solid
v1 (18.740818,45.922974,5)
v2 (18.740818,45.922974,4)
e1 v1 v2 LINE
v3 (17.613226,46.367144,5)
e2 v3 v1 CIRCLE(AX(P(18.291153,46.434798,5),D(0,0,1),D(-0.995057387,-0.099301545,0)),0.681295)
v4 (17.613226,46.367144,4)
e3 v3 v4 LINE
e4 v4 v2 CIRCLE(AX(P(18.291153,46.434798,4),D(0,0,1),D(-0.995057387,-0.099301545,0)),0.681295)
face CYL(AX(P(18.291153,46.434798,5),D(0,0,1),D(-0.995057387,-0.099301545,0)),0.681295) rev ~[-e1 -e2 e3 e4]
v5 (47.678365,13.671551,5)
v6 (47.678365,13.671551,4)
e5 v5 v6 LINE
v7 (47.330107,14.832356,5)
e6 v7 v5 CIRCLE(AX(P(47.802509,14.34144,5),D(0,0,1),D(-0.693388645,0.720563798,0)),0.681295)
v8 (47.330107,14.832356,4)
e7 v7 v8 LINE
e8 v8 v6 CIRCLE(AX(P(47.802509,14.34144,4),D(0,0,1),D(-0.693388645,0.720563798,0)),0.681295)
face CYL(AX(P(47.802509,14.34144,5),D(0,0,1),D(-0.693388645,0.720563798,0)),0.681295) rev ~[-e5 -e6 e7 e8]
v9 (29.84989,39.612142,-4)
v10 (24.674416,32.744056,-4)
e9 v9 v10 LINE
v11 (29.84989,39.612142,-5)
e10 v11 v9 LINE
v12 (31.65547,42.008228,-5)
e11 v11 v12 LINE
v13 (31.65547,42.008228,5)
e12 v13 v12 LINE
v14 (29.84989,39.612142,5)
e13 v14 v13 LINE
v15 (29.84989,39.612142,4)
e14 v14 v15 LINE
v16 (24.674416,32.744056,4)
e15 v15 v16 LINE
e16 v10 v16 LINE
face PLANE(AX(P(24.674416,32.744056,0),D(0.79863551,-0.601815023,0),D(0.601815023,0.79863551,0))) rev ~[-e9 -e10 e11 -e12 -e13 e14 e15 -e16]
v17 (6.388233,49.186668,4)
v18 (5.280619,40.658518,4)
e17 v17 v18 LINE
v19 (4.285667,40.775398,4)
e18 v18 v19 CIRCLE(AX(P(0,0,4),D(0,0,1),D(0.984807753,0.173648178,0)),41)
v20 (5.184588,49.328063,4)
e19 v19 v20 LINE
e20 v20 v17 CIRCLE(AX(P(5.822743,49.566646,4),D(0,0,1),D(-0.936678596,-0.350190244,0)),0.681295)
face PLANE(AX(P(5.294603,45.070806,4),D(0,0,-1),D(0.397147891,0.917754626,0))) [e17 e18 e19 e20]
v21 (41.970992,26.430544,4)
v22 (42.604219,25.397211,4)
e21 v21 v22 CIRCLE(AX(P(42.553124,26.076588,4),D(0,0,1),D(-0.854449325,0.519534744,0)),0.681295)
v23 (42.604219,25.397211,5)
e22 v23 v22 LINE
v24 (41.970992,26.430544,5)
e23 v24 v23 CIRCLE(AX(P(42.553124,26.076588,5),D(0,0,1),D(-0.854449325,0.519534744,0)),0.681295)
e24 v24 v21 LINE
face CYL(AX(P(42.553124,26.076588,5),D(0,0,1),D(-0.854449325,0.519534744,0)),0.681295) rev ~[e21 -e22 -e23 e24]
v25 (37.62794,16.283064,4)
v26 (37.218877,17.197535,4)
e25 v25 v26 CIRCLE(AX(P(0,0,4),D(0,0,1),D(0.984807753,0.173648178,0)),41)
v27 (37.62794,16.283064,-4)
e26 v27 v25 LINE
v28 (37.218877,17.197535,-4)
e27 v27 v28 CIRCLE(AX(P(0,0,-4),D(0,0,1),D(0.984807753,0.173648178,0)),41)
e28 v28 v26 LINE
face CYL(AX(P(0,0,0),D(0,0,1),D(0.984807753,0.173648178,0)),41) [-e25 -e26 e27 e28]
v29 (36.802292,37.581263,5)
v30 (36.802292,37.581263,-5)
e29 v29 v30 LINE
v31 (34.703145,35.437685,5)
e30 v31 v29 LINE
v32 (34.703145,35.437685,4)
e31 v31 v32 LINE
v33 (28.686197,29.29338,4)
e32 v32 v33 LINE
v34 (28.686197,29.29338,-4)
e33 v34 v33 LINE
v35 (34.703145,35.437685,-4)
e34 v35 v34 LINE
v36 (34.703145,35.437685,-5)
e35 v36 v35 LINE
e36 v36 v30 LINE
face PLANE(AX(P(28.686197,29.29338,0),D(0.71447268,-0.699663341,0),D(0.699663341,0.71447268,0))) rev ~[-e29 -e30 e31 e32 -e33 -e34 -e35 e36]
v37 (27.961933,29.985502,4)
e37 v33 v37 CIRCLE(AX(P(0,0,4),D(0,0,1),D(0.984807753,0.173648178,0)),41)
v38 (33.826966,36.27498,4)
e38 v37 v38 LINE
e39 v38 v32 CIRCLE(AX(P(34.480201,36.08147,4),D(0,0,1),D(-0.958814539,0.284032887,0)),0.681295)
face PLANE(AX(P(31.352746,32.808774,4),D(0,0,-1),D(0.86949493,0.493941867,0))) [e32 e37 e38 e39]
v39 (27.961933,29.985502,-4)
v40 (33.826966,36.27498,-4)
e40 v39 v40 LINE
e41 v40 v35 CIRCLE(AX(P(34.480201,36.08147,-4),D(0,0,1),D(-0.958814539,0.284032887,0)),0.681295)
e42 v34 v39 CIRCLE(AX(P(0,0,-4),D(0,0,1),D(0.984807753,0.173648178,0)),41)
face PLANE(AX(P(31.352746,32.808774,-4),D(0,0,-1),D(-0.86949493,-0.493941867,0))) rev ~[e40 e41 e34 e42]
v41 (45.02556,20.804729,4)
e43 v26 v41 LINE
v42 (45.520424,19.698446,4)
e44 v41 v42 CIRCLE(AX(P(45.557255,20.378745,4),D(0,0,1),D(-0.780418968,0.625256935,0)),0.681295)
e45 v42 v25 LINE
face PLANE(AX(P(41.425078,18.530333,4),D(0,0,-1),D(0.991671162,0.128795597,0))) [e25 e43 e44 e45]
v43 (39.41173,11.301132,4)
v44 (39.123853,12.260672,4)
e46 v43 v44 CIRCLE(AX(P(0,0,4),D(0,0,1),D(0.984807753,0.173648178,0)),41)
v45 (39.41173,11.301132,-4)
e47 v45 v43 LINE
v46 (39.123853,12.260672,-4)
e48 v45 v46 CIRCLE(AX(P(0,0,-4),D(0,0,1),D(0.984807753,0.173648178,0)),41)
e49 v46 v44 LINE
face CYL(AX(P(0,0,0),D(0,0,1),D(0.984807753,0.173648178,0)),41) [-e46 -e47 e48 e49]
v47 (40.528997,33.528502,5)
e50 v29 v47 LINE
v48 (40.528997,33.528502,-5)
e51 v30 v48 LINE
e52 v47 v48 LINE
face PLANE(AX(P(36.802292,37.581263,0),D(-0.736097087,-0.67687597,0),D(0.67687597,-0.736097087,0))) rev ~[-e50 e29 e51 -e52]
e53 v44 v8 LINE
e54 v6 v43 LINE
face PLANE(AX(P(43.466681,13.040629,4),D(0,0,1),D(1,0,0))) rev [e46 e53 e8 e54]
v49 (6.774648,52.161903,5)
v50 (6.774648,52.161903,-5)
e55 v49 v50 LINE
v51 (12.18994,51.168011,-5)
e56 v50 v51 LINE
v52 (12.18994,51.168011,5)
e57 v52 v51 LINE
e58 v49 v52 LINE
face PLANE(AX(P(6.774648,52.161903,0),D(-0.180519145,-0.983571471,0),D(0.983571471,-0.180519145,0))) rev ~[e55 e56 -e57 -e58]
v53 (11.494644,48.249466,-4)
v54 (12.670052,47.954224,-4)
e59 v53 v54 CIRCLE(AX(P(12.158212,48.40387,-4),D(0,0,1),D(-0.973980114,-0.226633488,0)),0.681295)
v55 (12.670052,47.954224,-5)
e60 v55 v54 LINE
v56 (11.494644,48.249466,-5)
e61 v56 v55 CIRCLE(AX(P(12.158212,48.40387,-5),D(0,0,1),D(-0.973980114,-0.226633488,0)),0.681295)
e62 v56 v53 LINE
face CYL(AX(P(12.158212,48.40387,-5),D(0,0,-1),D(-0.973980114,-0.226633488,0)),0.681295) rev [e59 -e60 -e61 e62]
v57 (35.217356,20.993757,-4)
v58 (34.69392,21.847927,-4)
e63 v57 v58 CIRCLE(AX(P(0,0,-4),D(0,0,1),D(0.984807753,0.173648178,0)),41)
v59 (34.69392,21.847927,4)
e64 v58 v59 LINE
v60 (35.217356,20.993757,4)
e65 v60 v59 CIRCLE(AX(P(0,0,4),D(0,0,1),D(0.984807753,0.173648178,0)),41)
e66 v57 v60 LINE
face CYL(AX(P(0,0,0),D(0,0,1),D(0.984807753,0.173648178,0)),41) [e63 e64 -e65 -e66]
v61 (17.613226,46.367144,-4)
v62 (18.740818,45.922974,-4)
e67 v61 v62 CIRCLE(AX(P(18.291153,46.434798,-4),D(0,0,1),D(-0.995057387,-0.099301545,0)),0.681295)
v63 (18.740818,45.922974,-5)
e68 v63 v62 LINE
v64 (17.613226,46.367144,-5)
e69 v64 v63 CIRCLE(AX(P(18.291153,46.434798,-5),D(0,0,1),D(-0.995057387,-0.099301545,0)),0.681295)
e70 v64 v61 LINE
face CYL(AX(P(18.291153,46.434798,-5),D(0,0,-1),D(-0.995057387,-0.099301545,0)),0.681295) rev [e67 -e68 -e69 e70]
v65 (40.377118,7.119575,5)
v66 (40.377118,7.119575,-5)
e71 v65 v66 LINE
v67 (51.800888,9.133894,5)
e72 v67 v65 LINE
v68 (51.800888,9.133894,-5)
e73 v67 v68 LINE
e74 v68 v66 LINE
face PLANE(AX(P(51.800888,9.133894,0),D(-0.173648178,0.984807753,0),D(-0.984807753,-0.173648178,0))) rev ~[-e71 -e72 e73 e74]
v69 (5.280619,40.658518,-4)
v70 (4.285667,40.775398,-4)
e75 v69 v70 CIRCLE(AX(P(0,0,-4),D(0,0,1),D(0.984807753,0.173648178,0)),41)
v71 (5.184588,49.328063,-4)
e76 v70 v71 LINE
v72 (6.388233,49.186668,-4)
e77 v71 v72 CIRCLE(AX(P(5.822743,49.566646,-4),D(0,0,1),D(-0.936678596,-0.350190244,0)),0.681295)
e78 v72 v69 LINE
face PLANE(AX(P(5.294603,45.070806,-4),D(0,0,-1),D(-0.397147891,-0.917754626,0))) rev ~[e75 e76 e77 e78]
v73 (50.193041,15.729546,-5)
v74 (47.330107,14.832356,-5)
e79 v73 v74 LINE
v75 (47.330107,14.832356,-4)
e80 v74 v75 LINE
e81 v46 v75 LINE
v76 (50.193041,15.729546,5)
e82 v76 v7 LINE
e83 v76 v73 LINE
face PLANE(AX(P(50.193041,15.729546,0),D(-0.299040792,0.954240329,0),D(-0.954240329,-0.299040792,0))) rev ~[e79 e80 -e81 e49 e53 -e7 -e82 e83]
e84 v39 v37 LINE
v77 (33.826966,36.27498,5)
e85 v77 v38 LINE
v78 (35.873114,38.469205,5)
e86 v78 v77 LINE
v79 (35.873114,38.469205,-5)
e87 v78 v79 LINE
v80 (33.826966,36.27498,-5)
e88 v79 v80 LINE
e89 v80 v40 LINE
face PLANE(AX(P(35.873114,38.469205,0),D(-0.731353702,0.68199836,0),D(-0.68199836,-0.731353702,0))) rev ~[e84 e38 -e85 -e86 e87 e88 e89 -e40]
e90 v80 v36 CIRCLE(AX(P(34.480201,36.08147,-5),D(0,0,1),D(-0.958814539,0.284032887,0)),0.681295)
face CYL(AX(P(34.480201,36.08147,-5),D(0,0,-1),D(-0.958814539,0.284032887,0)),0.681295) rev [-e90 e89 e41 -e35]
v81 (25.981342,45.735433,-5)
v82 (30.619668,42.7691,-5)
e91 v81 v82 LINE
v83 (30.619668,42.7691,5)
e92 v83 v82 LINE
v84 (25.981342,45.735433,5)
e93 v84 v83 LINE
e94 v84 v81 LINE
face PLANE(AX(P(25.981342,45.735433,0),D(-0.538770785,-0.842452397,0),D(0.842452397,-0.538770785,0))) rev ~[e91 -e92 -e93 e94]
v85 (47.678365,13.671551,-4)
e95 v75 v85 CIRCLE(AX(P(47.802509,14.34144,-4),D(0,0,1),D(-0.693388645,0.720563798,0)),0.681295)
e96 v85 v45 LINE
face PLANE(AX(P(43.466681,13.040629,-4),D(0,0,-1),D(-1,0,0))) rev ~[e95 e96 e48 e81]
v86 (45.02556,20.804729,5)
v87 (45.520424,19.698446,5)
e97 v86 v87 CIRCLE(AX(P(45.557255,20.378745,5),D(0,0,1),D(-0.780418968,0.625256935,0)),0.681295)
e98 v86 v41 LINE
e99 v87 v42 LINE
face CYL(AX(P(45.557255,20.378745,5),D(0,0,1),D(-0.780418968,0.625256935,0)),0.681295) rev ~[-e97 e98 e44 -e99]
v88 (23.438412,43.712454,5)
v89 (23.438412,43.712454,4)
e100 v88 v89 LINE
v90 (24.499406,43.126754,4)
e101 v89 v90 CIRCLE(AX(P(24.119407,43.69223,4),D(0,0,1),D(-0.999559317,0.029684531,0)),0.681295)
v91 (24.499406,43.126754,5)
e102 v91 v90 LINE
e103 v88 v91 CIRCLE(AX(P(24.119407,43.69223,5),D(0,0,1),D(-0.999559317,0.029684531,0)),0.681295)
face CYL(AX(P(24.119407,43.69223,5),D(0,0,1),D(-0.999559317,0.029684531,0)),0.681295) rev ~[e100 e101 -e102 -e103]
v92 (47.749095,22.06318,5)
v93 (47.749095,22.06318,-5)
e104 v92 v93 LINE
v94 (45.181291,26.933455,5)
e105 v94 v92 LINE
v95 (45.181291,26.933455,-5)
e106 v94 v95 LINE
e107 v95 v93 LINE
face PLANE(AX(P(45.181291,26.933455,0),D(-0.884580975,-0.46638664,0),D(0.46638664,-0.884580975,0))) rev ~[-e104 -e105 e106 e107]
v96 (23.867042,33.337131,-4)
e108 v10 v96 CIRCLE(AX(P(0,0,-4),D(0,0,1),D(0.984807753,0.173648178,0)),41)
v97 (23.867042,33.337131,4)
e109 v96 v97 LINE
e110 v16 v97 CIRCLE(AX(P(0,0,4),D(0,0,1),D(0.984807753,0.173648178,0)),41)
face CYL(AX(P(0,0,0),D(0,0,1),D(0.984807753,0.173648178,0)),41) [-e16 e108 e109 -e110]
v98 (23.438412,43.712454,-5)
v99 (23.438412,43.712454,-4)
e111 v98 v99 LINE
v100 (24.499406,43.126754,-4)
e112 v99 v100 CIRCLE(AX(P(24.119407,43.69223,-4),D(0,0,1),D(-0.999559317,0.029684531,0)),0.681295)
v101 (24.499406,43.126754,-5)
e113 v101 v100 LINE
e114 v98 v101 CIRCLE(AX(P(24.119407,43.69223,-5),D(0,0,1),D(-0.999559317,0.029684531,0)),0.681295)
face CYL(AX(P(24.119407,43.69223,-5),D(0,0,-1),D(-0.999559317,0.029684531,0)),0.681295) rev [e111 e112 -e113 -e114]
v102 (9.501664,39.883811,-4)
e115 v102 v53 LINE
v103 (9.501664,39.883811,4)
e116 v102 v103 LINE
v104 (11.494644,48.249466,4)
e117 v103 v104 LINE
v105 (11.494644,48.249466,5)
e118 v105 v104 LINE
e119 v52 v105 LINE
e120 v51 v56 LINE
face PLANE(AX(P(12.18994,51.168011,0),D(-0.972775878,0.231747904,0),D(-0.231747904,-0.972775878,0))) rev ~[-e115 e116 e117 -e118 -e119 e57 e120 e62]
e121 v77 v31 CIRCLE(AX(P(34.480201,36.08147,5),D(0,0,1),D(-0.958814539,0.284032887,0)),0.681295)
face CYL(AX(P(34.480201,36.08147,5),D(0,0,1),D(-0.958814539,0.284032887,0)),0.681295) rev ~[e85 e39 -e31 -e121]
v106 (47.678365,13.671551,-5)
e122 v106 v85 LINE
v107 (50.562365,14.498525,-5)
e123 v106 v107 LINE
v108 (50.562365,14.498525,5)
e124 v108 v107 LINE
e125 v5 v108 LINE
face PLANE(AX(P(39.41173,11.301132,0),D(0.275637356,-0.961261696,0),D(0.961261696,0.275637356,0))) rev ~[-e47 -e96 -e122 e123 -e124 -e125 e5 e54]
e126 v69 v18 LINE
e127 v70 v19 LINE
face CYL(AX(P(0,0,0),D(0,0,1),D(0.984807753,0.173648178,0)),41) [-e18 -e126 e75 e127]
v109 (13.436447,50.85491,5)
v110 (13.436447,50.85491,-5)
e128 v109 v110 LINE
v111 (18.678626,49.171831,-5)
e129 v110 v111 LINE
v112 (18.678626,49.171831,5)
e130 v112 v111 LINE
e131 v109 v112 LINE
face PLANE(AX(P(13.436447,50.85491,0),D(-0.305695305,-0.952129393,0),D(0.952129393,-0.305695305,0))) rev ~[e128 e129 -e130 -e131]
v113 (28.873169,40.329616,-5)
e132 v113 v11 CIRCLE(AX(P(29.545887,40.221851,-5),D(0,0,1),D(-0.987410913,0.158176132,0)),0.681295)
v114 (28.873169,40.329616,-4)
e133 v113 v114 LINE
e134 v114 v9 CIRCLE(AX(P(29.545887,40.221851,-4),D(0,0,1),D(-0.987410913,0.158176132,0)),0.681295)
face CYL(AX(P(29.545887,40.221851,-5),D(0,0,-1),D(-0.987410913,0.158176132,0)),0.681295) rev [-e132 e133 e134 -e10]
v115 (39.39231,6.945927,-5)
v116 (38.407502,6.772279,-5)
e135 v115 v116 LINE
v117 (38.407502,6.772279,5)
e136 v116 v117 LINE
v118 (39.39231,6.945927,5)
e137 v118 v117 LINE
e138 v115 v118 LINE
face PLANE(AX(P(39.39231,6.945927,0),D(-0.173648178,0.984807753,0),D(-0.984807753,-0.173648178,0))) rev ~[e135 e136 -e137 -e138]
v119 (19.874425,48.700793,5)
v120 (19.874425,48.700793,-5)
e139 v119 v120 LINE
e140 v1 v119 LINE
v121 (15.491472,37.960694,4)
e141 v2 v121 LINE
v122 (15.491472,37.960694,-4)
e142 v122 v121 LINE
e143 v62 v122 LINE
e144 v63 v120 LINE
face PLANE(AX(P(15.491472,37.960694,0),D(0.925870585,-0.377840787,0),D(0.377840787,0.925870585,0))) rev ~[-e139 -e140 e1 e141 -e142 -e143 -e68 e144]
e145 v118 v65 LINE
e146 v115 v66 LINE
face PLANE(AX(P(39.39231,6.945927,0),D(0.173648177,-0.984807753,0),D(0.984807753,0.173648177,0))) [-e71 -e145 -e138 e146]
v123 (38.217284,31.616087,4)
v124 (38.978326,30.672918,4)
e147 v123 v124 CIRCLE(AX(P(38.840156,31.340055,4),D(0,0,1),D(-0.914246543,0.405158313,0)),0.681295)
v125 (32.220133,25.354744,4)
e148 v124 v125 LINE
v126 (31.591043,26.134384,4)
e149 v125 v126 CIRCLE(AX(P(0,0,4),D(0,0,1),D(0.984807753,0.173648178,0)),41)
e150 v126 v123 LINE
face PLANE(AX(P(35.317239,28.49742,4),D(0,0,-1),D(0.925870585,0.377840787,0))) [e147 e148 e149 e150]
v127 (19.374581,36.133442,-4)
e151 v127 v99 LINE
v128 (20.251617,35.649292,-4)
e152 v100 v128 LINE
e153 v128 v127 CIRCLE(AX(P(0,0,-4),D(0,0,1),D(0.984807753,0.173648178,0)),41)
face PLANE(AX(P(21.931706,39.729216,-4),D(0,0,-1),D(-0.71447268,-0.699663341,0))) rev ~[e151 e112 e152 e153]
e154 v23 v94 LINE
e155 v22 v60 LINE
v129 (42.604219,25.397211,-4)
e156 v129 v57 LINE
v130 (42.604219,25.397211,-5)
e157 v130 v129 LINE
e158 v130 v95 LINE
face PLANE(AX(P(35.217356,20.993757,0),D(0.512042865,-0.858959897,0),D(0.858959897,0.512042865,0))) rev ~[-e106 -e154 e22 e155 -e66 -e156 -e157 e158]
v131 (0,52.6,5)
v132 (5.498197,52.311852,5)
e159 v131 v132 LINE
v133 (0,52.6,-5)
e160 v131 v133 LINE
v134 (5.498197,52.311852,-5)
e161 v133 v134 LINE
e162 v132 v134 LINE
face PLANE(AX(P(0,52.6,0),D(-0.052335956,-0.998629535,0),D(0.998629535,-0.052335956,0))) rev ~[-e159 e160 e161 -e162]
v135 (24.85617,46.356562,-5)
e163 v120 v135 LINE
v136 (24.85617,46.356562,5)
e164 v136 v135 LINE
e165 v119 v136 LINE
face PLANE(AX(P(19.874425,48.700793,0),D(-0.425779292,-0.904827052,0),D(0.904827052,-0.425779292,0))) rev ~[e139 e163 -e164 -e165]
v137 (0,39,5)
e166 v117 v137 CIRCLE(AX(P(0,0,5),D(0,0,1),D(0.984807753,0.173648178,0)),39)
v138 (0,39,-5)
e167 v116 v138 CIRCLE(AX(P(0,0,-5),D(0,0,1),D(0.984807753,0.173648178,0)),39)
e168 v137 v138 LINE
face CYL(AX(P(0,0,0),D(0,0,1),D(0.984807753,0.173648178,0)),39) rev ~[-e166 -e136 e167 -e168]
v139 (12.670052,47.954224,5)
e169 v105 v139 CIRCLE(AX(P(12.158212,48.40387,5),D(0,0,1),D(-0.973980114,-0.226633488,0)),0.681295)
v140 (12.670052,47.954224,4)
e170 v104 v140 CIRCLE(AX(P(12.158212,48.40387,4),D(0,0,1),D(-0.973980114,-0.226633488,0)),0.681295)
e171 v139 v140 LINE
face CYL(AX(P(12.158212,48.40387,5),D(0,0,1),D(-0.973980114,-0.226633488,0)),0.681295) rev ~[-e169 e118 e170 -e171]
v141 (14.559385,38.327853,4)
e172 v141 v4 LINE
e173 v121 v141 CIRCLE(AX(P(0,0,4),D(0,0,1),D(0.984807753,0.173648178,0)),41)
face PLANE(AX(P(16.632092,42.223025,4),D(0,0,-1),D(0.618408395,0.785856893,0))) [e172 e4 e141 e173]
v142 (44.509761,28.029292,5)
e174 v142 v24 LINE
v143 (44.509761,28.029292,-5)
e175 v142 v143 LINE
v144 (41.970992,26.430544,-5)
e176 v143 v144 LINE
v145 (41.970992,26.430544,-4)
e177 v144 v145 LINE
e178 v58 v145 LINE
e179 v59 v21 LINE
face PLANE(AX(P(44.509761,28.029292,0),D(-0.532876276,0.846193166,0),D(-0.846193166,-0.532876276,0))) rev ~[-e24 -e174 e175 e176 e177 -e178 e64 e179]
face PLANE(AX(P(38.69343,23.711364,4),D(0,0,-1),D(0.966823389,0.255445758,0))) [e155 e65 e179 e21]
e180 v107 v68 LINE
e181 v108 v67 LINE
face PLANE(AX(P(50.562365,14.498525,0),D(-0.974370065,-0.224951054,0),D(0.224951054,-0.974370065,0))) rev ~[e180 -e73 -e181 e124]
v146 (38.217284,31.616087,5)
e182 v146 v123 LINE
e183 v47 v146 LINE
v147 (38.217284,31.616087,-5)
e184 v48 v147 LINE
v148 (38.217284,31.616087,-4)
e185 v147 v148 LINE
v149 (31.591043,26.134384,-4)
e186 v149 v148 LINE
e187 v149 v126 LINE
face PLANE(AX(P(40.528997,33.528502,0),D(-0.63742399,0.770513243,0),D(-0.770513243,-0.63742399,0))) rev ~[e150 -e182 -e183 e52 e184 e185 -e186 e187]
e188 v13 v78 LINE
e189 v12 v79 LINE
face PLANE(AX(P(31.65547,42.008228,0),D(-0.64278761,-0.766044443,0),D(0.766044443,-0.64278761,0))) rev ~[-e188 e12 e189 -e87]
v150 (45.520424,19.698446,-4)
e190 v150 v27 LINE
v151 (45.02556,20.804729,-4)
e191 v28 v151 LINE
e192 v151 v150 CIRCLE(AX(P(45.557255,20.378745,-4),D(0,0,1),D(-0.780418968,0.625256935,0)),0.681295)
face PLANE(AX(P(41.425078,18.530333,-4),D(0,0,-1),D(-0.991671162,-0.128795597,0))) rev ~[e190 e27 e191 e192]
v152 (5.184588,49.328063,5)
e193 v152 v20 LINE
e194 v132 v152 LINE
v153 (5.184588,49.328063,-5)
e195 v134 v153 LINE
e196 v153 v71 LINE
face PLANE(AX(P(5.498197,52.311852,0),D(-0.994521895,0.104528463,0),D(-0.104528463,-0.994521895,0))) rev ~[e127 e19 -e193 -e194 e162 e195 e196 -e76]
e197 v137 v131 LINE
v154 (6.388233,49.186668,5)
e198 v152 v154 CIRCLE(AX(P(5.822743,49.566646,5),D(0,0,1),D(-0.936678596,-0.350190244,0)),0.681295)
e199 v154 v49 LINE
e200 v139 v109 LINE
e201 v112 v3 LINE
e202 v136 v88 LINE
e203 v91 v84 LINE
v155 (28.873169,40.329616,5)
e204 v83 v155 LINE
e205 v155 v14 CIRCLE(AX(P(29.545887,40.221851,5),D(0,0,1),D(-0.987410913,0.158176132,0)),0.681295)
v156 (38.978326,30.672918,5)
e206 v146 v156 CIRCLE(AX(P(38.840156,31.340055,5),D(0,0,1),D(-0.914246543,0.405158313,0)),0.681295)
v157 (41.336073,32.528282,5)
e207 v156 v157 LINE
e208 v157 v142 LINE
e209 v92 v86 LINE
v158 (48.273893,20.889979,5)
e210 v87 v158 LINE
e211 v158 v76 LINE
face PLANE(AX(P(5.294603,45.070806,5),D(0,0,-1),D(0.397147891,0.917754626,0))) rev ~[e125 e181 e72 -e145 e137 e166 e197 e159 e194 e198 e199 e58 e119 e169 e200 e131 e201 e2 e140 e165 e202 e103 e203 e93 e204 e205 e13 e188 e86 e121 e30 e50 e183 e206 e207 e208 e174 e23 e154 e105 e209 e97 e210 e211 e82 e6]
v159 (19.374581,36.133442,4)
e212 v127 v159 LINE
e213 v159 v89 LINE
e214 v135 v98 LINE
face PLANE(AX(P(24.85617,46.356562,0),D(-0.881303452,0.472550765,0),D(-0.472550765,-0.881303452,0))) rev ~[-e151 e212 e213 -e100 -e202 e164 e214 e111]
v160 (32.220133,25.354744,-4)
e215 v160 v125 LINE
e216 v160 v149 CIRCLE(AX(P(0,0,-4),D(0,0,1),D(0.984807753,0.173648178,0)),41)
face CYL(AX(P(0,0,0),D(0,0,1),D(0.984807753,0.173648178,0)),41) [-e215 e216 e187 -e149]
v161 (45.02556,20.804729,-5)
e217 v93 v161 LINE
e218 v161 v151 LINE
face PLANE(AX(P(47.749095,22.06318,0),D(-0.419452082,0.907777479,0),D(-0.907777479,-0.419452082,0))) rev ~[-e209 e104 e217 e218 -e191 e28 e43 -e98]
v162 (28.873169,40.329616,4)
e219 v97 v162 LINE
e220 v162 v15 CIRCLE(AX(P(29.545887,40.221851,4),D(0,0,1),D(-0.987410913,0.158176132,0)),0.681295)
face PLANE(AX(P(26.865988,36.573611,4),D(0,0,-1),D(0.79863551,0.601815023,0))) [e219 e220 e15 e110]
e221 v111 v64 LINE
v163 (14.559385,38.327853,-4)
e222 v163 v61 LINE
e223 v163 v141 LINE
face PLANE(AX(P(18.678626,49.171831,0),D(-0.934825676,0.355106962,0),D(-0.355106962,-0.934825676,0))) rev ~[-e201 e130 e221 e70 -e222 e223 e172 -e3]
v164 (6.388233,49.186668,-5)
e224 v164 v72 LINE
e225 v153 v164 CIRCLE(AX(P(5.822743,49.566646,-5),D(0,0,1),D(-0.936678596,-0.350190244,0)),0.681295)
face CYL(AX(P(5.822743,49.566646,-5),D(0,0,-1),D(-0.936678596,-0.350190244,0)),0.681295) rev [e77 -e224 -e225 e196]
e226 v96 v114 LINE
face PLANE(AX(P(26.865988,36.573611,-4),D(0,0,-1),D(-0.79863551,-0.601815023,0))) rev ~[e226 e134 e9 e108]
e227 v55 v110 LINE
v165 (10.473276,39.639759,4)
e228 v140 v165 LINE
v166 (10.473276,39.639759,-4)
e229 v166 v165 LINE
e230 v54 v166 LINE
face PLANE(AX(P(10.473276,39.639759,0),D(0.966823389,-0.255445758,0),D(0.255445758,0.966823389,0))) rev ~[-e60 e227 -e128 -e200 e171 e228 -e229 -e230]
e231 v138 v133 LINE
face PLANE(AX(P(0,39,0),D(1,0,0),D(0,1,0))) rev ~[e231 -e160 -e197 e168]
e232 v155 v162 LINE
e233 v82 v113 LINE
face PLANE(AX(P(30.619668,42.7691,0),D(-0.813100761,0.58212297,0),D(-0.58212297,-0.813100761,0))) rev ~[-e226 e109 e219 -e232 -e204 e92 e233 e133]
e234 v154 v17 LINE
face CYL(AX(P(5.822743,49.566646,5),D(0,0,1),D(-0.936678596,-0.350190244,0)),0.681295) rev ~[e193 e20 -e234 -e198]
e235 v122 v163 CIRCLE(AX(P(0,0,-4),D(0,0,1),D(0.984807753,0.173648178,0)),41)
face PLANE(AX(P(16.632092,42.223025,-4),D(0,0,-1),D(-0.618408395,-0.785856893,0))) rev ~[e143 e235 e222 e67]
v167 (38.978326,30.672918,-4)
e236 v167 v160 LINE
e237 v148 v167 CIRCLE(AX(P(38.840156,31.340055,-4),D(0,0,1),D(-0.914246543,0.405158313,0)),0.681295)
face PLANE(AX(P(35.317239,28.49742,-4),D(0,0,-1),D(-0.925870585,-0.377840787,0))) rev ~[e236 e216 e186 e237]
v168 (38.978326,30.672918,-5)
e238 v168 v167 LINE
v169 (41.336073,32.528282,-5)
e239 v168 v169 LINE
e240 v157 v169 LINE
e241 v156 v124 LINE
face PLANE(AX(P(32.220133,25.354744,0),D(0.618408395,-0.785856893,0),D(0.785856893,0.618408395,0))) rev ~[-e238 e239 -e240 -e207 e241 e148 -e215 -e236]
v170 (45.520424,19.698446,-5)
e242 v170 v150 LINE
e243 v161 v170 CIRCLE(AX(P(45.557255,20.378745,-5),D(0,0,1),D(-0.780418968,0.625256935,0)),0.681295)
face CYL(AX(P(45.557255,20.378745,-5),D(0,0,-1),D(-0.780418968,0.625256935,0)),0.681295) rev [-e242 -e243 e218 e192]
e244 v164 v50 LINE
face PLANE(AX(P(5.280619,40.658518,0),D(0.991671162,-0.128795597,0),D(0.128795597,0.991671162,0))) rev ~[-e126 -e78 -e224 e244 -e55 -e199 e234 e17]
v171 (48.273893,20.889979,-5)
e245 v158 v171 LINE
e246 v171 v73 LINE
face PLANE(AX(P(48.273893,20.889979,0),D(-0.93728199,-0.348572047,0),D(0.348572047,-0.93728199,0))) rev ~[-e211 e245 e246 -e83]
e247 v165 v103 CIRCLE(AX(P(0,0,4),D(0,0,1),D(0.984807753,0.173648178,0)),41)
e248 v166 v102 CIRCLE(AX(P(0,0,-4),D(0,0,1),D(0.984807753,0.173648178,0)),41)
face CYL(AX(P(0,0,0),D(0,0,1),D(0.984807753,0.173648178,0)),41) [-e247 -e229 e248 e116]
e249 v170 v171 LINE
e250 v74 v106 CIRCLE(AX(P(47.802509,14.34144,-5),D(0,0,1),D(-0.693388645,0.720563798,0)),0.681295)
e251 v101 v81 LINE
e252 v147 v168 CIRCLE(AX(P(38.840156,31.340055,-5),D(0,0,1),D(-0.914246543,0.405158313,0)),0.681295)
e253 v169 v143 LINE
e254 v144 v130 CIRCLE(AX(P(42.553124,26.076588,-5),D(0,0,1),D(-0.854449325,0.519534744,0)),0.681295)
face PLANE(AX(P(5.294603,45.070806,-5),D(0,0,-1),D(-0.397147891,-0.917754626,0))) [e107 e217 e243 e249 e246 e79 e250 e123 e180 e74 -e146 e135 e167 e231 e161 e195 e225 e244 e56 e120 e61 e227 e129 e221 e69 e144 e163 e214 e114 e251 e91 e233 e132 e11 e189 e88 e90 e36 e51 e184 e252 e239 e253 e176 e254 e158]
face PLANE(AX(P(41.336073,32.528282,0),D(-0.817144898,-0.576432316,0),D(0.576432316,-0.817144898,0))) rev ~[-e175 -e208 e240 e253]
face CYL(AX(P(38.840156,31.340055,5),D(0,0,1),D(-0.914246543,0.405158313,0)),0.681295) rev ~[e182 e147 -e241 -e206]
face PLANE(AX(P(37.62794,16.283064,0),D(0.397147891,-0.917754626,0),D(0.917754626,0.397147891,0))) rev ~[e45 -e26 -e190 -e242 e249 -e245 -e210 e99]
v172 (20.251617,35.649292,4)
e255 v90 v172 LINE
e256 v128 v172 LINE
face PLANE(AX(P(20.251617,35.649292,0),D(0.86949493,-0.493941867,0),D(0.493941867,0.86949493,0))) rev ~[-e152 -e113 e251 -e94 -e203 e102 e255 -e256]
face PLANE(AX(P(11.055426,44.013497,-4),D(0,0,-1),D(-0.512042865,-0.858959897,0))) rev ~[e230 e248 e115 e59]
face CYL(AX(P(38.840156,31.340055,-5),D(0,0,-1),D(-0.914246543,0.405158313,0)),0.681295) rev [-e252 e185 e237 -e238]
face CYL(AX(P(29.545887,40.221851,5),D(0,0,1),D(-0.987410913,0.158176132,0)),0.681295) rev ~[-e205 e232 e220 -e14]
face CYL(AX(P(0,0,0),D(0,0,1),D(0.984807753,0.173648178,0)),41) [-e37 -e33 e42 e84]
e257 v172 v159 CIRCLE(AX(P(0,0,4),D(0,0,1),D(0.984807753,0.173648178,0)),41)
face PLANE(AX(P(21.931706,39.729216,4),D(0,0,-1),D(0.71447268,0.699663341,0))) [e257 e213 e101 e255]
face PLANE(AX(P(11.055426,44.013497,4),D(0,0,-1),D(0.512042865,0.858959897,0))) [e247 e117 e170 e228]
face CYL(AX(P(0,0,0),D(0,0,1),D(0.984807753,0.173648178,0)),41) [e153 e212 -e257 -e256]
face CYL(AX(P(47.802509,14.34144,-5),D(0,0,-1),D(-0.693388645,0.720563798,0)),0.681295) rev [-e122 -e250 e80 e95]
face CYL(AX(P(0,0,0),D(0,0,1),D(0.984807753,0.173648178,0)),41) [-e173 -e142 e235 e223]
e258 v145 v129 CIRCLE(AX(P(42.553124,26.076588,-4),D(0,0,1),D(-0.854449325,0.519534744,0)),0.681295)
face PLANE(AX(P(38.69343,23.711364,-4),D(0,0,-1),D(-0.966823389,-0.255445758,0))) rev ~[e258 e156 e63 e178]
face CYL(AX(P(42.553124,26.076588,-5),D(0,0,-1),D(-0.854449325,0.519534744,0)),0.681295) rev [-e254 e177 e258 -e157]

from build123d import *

# Parameters (mm, degrees)
AUFSATZ_LINEAR_AUSTRAGEN1_DEPTH = 5
AUFSATZ_LINEAR_AUSTRAGEN2_DEPTH = 5
KREISMUSTER1_COUNT              = 11
KREISMUSTER1_ANGLE              = 74
AUFSATZ_LINEAR_AUSTRAGEN3_DEPTH = 5
AUFSATZ_LINEAR_AUSTRAGEN4_DEPTH = 1
KREISMUSTER2_COUNT              = 10
KREISMUSTER2_ANGLE              = 66.6
KREISMUSTER2_COPY_1_DEPTH       = 1
KREISMUSTER2_COPY_2_DEPTH       = 1
KREISMUSTER2_COPY_3_DEPTH       = 1
KREISMUSTER2_COPY_4_DEPTH       = 1
KREISMUSTER2_COPY_5_DEPTH       = 1
KREISMUSTER2_COPY_6_DEPTH       = 1
KREISMUSTER2_COPY_7_DEPTH       = 1
KREISMUSTER2_COPY_8_DEPTH       = 1
KREISMUSTER2_COPY_9_DEPTH       = 1


with BuildPart() as part:
    # Skizze1 → Aufsatz-Linear austragen1 (new, symmetric)
    with BuildSketch(Plane.XY):
        with BuildLine():
            Line((0, 41), (0, 40))
            ThreePointArc((0, 40), (25.711504387, 30.641777725), (39.39231012, 6.945927107))
            Line((39.39231012, 6.945927107), (40.377117874, 7.119575284))
            ThreePointArc((40.377117874, 7.119575284), (26.354291997, 31.407822168), (0, 41))
        make_face()
    extrude(amount=AUFSATZ_LINEAR_AUSTRAGEN1_DEPTH, both=True)

    # Skizze2 → Aufsatz-Linear austragen2 (add, symmetric)
    with BuildSketch(Plane.XY):
        with BuildLine():
            Line((0, 52.6), (0, 41))
            ThreePointArc((0, 41), (2.145774206, 40.943810925), (4.285666994, 40.77539771))
            Line((4.285666994, 40.77539771), (5.498197168, 52.311851696))
            Line((5.498197168, 52.311851696), (0, 52.6))
        make_face()
    aufsatz_linear_austragen2 = extrude(amount=AUFSATZ_LINEAR_AUSTRAGEN2_DEPTH, both=True)

    # Kreismuster1: Aufsatz-Linear austragen2 ×11 about axis
    kreismuster1_axis = Axis((0, 0, -5.5), (0, 0, -1))
    for i in range(1, KREISMUSTER1_COUNT):
        add(aufsatz_linear_austragen2.rotate(kreismuster1_axis, i * KREISMUSTER1_ANGLE / (KREISMUSTER1_COUNT - 1)))

    # Skizze3 → Aufsatz-Linear austragen3 (add, symmetric)
    with BuildSketch(Plane.XY):
        with BuildLine():
            ThreePointArc((39.39231012, 6.945927107), (25.711504387, 30.641777725), (0, 40))
            Line((0, 40), (0, 39))
            ThreePointArc((0, 39), (25.068716778, 29.875733282), (38.407502367, 6.772278929))
            Line((38.407502367, 6.772278929), (39.39231012, 6.945927107))
        make_face()
    extrude(amount=AUFSATZ_LINEAR_AUSTRAGEN3_DEPTH, both=True)

    # Skizze4 → Aufsatz-Linear austragen4 (add)
    with BuildSketch(Plane(origin=(0, 0, -5), x_dir=(-1, 0, 0), z_dir=(0, 0, -1))):
        with BuildLine():
            Line((-47.678364885, 13.671551131), (-39.411729533, 11.301131588))
            Line((-39.411729533, 11.301131588), (-39.123853469, 12.260672482))
            Line((-39.123853469, 12.260672482), (-47.330106633, 14.832356338))
            ThreePointArc((-47.330106633, 14.832356338), (-47.149949209, 14.145662676), (-47.678364885, 13.671551131))
        make_face()
    aufsatz_linear_austragen4 = extrude(amount=-AUFSATZ_LINEAR_AUSTRAGEN4_DEPTH)

    # Spiegeln1: Aufsatz-Linear austragen4 across plane
    add(aufsatz_linear_austragen4.mirror(Plane.XY))

    # Kreismuster2: Aufsatz-Linear austragen4 ×10 about axis
    kreismuster2_axis = Axis((0, 0, -5.5), (0, 0, 1))
    for i in range(1, KREISMUSTER2_COUNT):
        add(aufsatz_linear_austragen4.rotate(kreismuster2_axis, i * KREISMUSTER2_ANGLE / (KREISMUSTER2_COUNT - 1)))

    # Kreismuster2 copy 1 sketch → Kreismuster2 copy 1 (add)
    with BuildSketch(Plane(origin=(0, 0, 5), x_dir=(-0.9916711623830904, -0.12879559657756307, 0), z_dir=(0, 0, 1))):
        with BuildLine():
            Line((-47.678364885, -13.671551131), (-39.411729533, -11.301131588))
            Line((-39.411729533, -11.301131588), (-39.123853469, -12.260672482))
            Line((-39.123853469, -12.260672482), (-47.330106633, -14.832356338))
            ThreePointArc((-47.330106633, -14.832356338), (-47.149949209, -14.145662676), (-47.678364885, -13.671551131))
        make_face()
    extrude(amount=-KREISMUSTER2_COPY_1_DEPTH)

    # Kreismuster2 copy 2 sketch → Kreismuster2 copy 2 (add)
    with BuildSketch(Plane(origin=(0, 0, 5), x_dir=(-0.9668233886044593, -0.2554457579357911, 0), z_dir=(0, 0, 1))):
        with BuildLine():
            Line((-47.678364885, -13.671551131), (-39.411729533, -11.301131588))
            Line((-39.411729533, -11.301131588), (-39.123853469, -12.260672482))
            Line((-39.123853469, -12.260672482), (-47.330106633, -14.832356338))
            ThreePointArc((-47.330106633, -14.832356338), (-47.149949209, -14.145662676), (-47.678364885, -13.671551131))
        make_face()
    extrude(amount=-KREISMUSTER2_COPY_2_DEPTH)

    # Kreismuster2 copy 3 sketch → Kreismuster2 copy 3 (add)
    with BuildSketch(Plane(origin=(0, 0, 5), x_dir=(-0.9258705848099944, -0.37784078681846794, 0), z_dir=(0, 0, 1))):
        with BuildLine():
            Line((-47.678364885, -13.671551131), (-39.411729533, -11.301131588))
            Line((-39.411729533, -11.301131588), (-39.123853469, -12.260672482))
            Line((-39.123853469, -12.260672482), (-47.330106633, -14.832356338))
            ThreePointArc((-47.330106633, -14.832356338), (-47.149949209, -14.145662676), (-47.678364885, -13.671551131))
        make_face()
    extrude(amount=-KREISMUSTER2_COPY_3_DEPTH)

    # Kreismuster2 copy 4 sketch → Kreismuster2 copy 4 (add)
    with BuildSketch(Plane(origin=(0, 0, 5), x_dir=(-0.8694949295052185, -0.493941866584232, 0), z_dir=(0, 0, 1))):
        with BuildLine():
            Line((-47.678364885, -13.671551131), (-39.411729533, -11.301131588))
            Line((-39.411729533, -11.301131588), (-39.123853469, -12.260672482))
            Line((-39.123853469, -12.260672482), (-47.330106633, -14.832356338))
            ThreePointArc((-47.330106633, -14.832356338), (-47.149949209, -14.145662676), (-47.678364885, -13.671551131))
        make_face()
    extrude(amount=-KREISMUSTER2_COPY_4_DEPTH)

    # Kreismuster2 copy 5 sketch → Kreismuster2 copy 5 (add)
    with BuildSketch(Plane(origin=(0, 0, 5), x_dir=(-0.7986355100472919, -0.6018150231520494, 0), z_dir=(0, 0, 1))):
        with BuildLine():
            Line((-47.678364885, -13.671551131), (-39.411729533, -11.301131588))
            Line((-39.411729533, -11.301131588), (-39.123853469, -12.260672482))
            Line((-39.123853469, -12.260672482), (-47.330106633, -14.832356338))
            ThreePointArc((-47.330106633, -14.832356338), (-47.149949209, -14.145662676), (-47.678364885, -13.671551131))
        make_face()
    extrude(amount=-KREISMUSTER2_COPY_5_DEPTH)

    # Kreismuster2 copy 6 sketch → Kreismuster2 copy 6 (add)
    with BuildSketch(Plane(origin=(0, 0, 5), x_dir=(-0.7144726796328021, -0.6996633405133666, 0), z_dir=(0, 0, 1))):
        with BuildLine():
            Line((-47.678364885, -13.671551131), (-39.411729533, -11.301131588))
            Line((-39.411729533, -11.301131588), (-39.123853469, -12.260672482))
            Line((-39.123853469, -12.260672482), (-47.330106633, -14.832356338))
            ThreePointArc((-47.330106633, -14.832356338), (-47.149949209, -14.145662676), (-47.678364885, -13.671551131))
        make_face()
    extrude(amount=-KREISMUSTER2_COPY_6_DEPTH)

    # Kreismuster2 copy 7 sketch → Kreismuster2 copy 7 (add)
    with BuildSketch(Plane(origin=(0, 0, 5), x_dir=(-0.6184083953575527, -0.7858568931754031, 0), z_dir=(0, 0, 1))):
        with BuildLine():
            Line((-47.678364885, -13.671551131), (-39.411729533, -11.301131588))
            Line((-39.411729533, -11.301131588), (-39.123853469, -12.260672482))
            Line((-39.123853469, -12.260672482), (-47.330106633, -14.832356338))
            ThreePointArc((-47.330106633, -14.832356338), (-47.149949209, -14.145662676), (-47.678364885, -13.671551131))
        make_face()
    extrude(amount=-KREISMUSTER2_COPY_7_DEPTH)

    # Kreismuster2 copy 8 sketch → Kreismuster2 copy 8 (add)
    with BuildSketch(Plane(origin=(0, 0, 5), x_dir=(-0.5120428648705696, -0.8589598969306655, 0), z_dir=(0, 0, 1))):
        with BuildLine():
            Line((-47.678364885, -13.671551131), (-39.411729533, -11.301131588))
            Line((-39.411729533, -11.301131588), (-39.123853469, -12.260672482))
            Line((-39.123853469, -12.260672482), (-47.330106633, -14.832356338))
            ThreePointArc((-47.330106633, -14.832356338), (-47.149949209, -14.145662676), (-47.678364885, -13.671551131))
        make_face()
    extrude(amount=-KREISMUSTER2_COPY_8_DEPTH)

    # Kreismuster2 copy 9 sketch → Kreismuster2 copy 9 (add)
    with BuildSketch(Plane(origin=(0, 0, 5), x_dir=(-0.3971478906347781, -0.9177546256839823, 0), z_dir=(0, 0, 1))):
        with BuildLine():
            Line((-47.678364885, -13.671551131), (-39.411729533, -11.301131588))
            Line((-39.411729533, -11.301131588), (-39.123853469, -12.260672482))
            Line((-39.123853469, -12.260672482), (-47.330106633, -14.832356338))
            ThreePointArc((-47.330106633, -14.832356338), (-47.149949209, -14.145662676), (-47.678364885, -13.671551131))
        make_face()
    extrude(amount=-KREISMUSTER2_COPY_9_DEPTH)


solid = part.part
